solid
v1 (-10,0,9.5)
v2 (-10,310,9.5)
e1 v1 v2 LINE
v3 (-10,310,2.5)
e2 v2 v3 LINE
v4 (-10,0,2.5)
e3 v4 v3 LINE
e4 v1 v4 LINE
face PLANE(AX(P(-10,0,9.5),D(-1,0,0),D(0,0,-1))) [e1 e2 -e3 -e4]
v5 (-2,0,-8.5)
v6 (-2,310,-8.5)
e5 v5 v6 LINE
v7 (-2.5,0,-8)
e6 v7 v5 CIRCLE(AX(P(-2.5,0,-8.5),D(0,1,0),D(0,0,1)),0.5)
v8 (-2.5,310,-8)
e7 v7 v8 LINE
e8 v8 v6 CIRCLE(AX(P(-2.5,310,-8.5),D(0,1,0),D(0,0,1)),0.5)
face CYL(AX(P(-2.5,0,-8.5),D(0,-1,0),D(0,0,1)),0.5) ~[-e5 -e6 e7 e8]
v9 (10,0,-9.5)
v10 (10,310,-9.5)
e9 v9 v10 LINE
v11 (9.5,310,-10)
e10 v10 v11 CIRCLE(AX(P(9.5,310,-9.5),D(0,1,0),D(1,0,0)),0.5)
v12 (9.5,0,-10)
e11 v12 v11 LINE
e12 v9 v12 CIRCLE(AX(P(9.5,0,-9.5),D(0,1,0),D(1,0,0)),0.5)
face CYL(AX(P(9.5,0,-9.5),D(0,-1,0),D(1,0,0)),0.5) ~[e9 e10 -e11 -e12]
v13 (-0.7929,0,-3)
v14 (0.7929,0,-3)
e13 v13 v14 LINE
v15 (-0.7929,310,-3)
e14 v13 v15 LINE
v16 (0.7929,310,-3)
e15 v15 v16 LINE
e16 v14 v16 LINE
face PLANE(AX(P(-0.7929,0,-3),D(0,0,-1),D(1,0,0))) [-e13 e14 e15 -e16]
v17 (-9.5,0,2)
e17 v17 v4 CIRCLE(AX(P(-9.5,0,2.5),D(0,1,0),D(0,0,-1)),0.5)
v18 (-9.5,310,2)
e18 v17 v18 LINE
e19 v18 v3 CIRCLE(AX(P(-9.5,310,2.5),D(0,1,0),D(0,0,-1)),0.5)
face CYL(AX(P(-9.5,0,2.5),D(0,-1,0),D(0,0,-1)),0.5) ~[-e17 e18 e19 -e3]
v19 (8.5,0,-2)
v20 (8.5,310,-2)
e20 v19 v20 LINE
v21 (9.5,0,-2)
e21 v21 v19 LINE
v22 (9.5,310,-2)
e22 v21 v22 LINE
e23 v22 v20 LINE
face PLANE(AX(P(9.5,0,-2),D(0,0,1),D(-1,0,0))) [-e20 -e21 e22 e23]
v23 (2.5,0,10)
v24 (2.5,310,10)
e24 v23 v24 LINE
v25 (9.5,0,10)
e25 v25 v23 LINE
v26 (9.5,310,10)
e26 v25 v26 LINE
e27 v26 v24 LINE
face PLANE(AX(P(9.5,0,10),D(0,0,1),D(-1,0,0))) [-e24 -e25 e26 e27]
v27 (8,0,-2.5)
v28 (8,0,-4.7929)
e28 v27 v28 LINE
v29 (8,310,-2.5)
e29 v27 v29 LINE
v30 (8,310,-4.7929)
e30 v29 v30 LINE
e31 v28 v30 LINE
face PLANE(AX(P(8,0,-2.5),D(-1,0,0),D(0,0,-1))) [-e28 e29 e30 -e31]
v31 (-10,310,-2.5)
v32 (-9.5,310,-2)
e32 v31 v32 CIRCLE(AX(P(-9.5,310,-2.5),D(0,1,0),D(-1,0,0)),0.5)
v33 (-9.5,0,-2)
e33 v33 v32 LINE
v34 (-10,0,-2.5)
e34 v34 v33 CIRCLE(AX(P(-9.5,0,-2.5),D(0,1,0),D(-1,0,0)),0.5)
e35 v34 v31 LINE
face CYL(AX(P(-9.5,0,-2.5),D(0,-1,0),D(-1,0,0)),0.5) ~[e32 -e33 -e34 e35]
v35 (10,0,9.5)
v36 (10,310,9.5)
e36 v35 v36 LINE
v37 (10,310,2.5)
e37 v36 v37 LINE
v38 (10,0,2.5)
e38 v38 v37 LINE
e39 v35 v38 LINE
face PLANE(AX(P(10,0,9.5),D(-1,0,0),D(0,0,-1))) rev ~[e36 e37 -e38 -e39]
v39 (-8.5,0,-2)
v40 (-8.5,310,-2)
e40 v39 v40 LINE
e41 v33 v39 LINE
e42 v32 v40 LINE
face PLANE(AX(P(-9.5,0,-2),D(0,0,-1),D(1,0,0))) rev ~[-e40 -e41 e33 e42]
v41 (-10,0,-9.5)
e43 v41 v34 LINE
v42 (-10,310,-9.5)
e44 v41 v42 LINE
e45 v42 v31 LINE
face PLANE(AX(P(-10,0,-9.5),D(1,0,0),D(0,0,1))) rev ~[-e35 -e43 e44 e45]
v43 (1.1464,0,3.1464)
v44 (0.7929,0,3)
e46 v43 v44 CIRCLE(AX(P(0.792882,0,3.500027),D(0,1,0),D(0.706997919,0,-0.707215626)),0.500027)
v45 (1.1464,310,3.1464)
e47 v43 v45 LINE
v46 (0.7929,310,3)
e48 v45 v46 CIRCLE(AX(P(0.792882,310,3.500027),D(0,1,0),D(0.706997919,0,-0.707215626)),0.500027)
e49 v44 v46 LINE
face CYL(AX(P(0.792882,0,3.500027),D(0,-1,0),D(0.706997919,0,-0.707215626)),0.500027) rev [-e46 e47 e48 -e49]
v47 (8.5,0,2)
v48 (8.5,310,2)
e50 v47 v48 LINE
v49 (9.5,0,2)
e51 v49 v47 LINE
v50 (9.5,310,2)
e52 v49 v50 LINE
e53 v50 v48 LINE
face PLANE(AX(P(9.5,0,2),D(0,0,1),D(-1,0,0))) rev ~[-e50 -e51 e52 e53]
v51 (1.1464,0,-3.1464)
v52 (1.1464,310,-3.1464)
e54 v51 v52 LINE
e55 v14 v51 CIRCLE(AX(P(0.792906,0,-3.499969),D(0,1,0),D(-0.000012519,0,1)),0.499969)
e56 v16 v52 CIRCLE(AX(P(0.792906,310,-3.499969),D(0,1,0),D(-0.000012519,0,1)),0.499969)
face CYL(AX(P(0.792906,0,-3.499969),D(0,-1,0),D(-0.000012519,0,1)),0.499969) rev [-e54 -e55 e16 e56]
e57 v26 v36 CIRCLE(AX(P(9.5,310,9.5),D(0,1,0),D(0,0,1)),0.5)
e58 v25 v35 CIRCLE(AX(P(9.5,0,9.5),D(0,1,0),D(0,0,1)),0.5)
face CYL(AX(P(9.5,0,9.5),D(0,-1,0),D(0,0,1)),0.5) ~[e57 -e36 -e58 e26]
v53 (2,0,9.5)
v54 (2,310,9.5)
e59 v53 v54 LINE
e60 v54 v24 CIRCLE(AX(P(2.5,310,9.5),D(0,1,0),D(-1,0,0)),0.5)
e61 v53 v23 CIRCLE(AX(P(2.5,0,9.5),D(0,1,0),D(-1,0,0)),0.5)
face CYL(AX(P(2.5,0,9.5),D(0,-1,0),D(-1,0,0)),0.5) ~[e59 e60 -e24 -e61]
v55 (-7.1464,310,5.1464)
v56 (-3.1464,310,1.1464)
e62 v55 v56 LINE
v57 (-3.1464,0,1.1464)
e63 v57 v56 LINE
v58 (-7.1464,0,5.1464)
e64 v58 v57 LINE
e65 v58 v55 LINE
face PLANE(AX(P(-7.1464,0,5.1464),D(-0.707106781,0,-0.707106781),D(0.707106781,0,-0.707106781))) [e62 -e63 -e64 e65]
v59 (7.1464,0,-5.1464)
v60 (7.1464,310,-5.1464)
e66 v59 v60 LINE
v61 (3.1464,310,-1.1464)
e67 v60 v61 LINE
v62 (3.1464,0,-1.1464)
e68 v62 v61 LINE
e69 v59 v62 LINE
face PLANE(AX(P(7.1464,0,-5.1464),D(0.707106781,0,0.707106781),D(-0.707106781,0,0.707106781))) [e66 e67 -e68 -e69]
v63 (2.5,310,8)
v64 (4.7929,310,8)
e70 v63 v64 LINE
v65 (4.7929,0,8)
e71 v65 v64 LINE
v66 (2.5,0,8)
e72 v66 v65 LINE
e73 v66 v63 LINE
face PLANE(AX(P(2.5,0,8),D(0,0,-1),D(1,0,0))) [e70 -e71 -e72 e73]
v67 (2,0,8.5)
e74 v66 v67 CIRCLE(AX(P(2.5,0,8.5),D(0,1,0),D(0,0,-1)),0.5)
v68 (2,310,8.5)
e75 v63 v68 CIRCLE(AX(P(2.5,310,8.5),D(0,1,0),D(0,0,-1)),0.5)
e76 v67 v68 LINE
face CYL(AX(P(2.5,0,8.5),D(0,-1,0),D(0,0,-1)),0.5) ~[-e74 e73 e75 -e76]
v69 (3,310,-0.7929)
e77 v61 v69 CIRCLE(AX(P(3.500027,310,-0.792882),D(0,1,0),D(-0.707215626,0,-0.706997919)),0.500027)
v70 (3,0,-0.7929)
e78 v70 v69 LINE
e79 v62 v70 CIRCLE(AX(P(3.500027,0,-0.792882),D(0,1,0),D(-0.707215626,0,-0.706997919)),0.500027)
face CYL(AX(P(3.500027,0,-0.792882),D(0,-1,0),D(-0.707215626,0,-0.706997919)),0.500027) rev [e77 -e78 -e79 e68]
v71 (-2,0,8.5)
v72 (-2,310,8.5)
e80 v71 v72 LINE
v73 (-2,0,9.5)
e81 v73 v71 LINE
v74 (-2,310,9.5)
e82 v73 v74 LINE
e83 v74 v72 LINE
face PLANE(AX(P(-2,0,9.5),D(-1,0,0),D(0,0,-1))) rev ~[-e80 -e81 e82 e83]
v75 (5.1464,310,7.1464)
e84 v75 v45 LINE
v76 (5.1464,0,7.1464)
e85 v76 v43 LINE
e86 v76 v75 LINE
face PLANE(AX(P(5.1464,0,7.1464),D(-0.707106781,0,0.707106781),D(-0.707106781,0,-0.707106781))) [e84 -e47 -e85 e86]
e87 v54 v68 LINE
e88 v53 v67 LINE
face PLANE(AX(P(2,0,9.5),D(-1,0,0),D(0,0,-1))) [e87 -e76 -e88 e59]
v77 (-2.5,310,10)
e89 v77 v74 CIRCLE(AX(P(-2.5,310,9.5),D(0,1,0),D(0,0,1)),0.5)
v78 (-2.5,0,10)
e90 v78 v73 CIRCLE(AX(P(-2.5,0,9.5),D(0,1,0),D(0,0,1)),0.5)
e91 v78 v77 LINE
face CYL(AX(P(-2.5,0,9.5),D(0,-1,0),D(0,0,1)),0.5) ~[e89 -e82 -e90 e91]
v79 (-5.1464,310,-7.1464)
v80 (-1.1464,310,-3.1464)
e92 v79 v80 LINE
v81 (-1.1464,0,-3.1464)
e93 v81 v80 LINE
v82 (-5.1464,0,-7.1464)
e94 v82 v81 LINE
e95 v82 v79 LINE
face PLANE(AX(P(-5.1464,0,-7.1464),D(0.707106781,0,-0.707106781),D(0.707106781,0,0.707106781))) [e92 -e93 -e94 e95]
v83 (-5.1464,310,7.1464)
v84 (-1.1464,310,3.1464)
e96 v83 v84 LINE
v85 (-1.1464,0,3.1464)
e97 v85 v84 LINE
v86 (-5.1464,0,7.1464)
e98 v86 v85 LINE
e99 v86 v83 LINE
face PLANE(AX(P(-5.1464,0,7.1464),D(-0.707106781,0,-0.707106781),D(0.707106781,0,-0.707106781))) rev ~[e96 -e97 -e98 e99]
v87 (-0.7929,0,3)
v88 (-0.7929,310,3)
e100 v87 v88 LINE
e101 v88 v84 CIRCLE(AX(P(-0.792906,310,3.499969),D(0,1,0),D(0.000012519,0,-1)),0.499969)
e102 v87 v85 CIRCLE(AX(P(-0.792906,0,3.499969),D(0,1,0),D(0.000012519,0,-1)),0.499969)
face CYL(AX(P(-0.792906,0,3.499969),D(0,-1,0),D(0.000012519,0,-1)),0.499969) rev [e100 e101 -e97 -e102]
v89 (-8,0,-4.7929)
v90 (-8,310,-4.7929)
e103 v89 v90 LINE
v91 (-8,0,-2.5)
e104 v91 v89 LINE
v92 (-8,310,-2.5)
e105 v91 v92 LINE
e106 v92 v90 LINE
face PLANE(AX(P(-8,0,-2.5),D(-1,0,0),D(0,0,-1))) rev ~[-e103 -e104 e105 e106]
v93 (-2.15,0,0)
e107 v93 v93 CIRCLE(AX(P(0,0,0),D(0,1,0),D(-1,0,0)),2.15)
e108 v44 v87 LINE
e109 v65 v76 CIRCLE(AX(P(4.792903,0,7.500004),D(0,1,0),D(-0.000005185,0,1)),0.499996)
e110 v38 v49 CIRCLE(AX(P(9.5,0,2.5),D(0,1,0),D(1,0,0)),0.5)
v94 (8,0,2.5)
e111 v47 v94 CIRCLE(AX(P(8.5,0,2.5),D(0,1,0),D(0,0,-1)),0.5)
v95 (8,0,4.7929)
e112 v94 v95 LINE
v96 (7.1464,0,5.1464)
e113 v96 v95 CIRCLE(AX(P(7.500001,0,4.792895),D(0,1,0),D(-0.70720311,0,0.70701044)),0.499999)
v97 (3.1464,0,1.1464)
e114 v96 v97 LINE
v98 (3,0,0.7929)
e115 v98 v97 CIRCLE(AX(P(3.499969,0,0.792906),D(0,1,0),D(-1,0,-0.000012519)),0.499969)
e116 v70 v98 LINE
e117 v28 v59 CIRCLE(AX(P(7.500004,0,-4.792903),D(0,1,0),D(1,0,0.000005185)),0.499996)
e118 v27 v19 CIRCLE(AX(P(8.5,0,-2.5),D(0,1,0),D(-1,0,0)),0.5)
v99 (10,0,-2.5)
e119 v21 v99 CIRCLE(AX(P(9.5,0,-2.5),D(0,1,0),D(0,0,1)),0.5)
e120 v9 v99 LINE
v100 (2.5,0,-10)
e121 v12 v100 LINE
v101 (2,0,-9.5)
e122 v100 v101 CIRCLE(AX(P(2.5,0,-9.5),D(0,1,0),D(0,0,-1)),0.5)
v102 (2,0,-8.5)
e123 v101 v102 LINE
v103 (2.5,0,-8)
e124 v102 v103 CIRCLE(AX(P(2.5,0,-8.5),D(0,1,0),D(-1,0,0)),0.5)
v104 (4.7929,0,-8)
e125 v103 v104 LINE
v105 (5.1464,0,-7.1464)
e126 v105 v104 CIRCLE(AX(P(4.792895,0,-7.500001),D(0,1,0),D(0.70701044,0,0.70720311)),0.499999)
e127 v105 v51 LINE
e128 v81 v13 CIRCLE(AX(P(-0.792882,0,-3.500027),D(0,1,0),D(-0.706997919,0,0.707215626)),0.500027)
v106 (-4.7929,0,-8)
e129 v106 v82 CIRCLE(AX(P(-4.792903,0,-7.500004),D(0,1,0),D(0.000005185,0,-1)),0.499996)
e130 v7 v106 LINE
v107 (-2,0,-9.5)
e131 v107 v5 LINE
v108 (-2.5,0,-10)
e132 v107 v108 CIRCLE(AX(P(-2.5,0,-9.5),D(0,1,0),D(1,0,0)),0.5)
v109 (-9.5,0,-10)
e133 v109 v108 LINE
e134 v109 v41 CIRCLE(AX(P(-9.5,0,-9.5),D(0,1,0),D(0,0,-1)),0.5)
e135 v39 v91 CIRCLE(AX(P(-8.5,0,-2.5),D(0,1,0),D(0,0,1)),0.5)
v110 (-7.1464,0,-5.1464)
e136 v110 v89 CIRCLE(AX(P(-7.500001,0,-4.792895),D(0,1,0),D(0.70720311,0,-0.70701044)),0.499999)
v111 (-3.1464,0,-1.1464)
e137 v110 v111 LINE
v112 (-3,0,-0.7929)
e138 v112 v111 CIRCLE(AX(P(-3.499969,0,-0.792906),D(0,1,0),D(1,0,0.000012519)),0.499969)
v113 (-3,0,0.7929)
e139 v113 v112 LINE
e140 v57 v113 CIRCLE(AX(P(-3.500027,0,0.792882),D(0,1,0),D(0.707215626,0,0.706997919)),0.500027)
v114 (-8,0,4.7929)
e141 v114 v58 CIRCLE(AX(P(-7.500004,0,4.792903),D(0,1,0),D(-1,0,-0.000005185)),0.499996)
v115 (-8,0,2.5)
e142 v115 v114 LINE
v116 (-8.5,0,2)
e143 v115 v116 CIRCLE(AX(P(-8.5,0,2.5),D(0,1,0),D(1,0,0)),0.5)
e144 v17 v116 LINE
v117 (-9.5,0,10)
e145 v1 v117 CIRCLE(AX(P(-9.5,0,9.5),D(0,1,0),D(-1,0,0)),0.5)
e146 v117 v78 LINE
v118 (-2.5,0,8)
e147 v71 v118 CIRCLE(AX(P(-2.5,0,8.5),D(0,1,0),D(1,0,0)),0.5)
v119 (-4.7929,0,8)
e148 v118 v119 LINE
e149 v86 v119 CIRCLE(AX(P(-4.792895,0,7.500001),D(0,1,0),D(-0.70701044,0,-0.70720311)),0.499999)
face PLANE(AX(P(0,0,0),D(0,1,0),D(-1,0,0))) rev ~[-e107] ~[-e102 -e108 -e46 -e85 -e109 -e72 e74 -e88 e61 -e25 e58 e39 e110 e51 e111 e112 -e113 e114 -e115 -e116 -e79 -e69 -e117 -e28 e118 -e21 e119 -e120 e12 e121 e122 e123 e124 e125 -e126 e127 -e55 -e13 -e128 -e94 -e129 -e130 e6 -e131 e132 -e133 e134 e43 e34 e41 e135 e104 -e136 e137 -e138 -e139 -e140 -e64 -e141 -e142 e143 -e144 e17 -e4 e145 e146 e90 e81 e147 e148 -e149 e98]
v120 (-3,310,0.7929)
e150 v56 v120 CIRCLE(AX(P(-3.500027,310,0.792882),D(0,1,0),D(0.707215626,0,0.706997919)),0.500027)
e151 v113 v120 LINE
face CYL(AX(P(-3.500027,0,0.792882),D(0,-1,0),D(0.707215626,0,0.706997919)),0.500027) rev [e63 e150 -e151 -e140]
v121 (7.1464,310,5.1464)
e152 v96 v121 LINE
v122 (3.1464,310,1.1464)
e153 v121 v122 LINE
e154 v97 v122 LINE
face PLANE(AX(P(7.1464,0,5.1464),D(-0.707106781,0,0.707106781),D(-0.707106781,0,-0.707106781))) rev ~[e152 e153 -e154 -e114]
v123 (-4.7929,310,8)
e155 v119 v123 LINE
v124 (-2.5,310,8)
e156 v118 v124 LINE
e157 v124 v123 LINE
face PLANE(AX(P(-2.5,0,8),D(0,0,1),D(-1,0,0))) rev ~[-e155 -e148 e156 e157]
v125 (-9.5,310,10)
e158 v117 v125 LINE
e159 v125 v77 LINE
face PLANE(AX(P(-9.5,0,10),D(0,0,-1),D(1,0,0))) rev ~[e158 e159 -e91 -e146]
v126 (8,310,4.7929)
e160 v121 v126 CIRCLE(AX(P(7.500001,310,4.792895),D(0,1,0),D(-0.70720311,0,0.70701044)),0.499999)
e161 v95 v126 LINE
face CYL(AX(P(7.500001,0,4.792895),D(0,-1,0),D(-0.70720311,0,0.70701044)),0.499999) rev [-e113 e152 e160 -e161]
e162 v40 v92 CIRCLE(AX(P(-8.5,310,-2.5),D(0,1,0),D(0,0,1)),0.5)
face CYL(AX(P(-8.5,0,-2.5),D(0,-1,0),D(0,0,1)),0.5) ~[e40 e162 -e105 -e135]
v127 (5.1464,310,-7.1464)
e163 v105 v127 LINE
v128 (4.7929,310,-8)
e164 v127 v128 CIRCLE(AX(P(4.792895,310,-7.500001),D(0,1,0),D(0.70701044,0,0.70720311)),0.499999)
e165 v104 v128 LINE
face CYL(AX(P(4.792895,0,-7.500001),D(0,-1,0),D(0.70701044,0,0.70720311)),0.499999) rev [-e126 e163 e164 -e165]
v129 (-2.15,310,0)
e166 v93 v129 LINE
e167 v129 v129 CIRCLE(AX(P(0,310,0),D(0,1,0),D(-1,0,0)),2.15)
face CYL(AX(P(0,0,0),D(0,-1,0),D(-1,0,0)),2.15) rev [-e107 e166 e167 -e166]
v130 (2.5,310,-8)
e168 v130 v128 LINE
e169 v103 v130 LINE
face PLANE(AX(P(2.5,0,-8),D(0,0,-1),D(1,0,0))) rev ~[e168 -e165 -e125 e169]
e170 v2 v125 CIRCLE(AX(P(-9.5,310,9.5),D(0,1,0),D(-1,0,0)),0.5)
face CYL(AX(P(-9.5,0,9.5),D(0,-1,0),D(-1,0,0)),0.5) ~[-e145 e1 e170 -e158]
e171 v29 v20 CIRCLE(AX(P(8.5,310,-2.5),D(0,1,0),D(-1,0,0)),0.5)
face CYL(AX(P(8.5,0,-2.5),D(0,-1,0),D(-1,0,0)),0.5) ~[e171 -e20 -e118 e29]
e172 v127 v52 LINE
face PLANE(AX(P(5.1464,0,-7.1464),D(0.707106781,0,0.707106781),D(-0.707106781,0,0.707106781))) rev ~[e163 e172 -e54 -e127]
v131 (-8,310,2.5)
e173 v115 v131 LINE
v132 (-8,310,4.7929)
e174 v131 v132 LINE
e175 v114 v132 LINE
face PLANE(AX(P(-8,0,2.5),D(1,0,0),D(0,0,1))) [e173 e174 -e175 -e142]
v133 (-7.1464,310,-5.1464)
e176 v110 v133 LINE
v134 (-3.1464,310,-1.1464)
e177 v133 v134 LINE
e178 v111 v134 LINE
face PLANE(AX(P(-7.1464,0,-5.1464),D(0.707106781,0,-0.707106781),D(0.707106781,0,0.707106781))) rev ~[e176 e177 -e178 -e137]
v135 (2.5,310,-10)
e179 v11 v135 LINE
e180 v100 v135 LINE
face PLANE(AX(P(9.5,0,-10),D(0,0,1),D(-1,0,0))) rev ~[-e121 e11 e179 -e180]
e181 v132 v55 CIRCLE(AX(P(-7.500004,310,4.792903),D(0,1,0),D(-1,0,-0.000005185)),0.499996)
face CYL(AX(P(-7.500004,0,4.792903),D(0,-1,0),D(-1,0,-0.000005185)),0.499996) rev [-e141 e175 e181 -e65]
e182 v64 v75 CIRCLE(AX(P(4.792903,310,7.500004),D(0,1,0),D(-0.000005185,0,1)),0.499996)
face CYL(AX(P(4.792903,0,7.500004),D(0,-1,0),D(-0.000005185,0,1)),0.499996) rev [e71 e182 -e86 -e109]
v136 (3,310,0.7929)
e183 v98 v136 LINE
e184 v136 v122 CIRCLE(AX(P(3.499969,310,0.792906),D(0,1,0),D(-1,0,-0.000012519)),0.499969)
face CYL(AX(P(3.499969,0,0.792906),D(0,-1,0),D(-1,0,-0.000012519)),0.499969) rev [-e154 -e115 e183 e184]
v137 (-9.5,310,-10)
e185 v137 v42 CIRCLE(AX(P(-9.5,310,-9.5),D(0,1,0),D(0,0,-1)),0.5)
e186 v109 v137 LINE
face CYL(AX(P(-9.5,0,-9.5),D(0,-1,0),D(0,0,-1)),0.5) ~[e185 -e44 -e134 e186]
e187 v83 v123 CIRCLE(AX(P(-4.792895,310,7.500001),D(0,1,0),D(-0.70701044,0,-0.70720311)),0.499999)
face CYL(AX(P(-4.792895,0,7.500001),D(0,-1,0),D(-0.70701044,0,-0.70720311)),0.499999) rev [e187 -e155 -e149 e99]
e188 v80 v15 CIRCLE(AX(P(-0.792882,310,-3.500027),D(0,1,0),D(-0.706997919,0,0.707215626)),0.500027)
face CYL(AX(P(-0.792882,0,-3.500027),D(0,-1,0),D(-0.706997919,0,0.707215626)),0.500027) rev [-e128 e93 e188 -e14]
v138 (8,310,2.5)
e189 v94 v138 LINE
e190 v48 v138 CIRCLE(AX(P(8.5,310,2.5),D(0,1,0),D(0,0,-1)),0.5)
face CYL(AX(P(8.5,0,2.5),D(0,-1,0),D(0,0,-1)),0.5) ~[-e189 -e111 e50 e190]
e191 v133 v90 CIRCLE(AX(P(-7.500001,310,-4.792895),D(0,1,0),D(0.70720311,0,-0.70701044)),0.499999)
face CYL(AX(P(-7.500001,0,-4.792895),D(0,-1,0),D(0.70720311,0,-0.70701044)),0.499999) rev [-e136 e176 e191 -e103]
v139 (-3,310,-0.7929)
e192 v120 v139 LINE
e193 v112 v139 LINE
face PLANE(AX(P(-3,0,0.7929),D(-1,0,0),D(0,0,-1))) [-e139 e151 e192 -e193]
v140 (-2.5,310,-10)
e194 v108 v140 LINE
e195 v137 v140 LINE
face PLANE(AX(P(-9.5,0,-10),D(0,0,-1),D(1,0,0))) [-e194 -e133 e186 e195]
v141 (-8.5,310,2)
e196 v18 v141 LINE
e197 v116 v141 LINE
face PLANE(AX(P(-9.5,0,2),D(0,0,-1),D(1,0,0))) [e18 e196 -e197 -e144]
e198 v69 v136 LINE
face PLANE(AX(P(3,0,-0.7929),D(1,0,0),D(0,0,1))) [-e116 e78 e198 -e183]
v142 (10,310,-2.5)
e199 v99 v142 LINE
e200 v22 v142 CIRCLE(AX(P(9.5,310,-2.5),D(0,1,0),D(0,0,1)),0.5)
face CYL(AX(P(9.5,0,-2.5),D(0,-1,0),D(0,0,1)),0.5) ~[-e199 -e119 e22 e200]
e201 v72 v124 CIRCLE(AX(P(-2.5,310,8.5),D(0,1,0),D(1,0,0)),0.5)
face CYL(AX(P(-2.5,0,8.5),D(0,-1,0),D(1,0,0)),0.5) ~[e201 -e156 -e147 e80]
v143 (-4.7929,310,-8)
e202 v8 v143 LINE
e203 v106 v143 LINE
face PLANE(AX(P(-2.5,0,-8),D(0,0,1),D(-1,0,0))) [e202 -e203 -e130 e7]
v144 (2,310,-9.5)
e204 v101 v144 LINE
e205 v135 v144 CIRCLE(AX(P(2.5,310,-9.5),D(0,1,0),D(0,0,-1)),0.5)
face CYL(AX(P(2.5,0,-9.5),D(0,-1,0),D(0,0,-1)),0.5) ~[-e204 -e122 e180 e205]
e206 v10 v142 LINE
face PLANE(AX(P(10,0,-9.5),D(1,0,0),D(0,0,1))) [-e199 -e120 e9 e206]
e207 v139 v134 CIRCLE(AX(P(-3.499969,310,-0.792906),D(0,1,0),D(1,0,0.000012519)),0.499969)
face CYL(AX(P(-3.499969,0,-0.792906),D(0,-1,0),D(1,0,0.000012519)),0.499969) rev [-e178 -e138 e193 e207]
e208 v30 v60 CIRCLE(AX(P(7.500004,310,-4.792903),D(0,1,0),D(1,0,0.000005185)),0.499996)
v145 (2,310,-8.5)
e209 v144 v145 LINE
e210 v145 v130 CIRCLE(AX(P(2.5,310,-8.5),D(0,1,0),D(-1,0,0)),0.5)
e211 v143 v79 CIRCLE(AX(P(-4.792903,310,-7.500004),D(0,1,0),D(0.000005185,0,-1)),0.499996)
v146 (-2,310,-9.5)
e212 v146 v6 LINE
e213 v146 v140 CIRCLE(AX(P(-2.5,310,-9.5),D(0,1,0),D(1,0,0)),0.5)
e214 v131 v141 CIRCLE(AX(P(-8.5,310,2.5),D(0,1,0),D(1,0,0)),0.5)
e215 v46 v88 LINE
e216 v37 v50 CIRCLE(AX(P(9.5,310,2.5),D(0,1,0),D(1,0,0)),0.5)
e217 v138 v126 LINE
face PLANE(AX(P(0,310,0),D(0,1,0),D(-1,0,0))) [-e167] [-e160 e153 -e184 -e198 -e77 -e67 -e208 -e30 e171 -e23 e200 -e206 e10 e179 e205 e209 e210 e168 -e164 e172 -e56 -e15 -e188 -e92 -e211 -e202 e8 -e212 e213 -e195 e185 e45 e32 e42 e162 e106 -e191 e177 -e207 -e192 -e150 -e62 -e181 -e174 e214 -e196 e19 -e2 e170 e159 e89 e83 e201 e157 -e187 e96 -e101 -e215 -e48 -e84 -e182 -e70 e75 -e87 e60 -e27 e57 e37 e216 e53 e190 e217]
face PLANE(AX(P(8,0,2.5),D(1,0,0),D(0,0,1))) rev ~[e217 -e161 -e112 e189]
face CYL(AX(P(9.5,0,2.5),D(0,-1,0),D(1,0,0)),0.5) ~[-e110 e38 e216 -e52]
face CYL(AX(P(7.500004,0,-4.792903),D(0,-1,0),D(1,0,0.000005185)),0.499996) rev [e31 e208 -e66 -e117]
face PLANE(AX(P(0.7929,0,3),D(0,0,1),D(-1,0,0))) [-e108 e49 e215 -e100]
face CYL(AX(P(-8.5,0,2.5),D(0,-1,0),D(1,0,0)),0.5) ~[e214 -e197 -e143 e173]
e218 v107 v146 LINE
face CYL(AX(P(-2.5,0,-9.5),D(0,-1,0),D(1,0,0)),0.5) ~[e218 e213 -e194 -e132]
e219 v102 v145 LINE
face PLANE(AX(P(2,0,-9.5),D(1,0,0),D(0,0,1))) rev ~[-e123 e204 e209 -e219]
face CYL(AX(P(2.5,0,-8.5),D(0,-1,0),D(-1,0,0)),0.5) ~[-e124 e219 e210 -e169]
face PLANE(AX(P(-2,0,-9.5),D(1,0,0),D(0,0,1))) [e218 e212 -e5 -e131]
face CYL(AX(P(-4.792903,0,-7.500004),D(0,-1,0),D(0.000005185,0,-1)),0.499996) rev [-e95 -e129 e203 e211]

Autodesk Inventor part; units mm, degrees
sketch "Sketch1" plane through (0, 0, 0) normal (0, 1, 0) x (-1, 0, 0)
  line L0 (2.5, 10) -> (9.5, 10) construction
  line L1 (10, -2.5) -> (10, -9.5) construction
  line L2 (-2.5, -10) -> (-9.5, -10) construction
  line L3 (-10, 2.5) -> (-10, 10) construction
  line L4 (-10, 10) -> (10, -10) construction
  line L5 (10, 10) -> (-10, -10) construction
  circle A0 centre (0, 0) radius 2.15
  line L6 (10, 9.5) -> (10, 2.5)
  line L7 (9.5, 2) -> (8.5, 2)
  line L8 (8, 2.5) -> (8, 4.7929)
  line L9 (-0.7929, 3) -> (0.7929, 3)
  line L10 (3, 0.7929) -> (3, -0.7929)
  line L11 (0.7929, -3) -> (-0.7929, -3)
  line L12 (-3, -0.7929) -> (-3, 0.7929)
  line L13 (-3, 3) -> (3, -3) construction
  line L14 (3, 3) -> (-3, -3) construction
  line L15 (10, -10) -> (10, -2)
  line L16 (9.5, -2) -> (8.5, -2)
  line L17 (8, -2.5) -> (8, -4.7929)
  line L18 (7.1464, -5.1464) -> (3.1464, -1.1464)
  line L19 (7.1464, 5.1464) -> (3.1464, 1.1464)
  line L20 (8, 6) -> (13.6569, 6) construction
  line L21 (10, 10) -> (2, 10)
  line L22 (2, 9.5) -> (2, 8.5)
  line L23 (2.5, 8) -> (4.7929, 8)
  line L24 (5.1464, 7.1464) -> (1.1464, 3.1464)
  line L25 (-9.5, 10) -> (-2.5, 10)
  line L26 (-2, 9.5) -> (-2, 8.5)
  line L27 (-2.5, 8) -> (-4.7929, 8)
  line L28 (-5.1464, 7.1464) -> (-1.1464, 3.1464)
  line L29 (-10, 9.5) -> (-10, 2)
  line L30 (-9.5, 2) -> (-8.5, 2)
  line L31 (-8, 2.5) -> (-8, 4.7929)
  line L32 (-7.1464, 5.1464) -> (-3.1464, 1.1464)
  line L33 (-10, -9.5) -> (-10, -2.5)
  line L34 (-9.5, -2) -> (-8.5, -2)
  line L35 (-8, -2.5) -> (-8, -4.7929)
  line L36 (-7.1464, -5.1464) -> (-3.1464, -1.1464)
  line L37 (-8, -6) -> (-2.3431, -6) construction
  line L38 (-10, -10) -> (-2, -10)
  line L39 (-2, -9.5) -> (-2, -8.5)
  line L40 (-2.5, -8) -> (-4.7929, -8)
  line L41 (-5.1464, -7.1464) -> (-1.1464, -3.1464)
  line L42 (9.5, -10) -> (2.5, -10)
  line L43 (2, -9.5) -> (2, -8.5)
  line L44 (2.5, -8) -> (4.7929, -8)
  line L45 (5.1464, -7.1464) -> (1.1464, -3.1464)
  arc A1 (8, 2.5) -> (8.5, 2) centre (8.5, 2.5) ccw
  arc A2 (9.5, 2) -> (10, 2.5) centre (9.5, 2.5) ccw
  arc A3 (10, -2.5) -> (9.5, -2) centre (9.5, -2.5) ccw
  arc A4 (8.5, -2) -> (8, -2.5) centre (8.5, -2.5) ccw
  arc A5 (7.1464, -5.1464) -> (8, -4.7929) centre (7.5, -4.7929) ccw
  arc A6 (3, -0.7929) -> (3.1464, -1.1464) centre (3.5, -0.7929) ccw
  arc A7 (3.1464, 1.1464) -> (3, 0.7929) centre (3.5, 0.7929) ccw
  arc A8 (8, 4.7929) -> (7.1464, 5.1464) centre (7.5, 4.7929) ccw
  arc A9 (5.1464, 7.1464) -> (4.7929, 8) centre (4.7929, 7.5) ccw
  arc A10 (0.7929, 3) -> (1.1464, 3.1464) centre (0.7929, 3.5) ccw
  arc A11 (-1.1464, 3.1464) -> (-0.7929, 3) centre (-0.7929, 3.5) ccw
  arc A12 (-3, 0.7929) -> (-3.1464, 1.1464) centre (-3.5, 0.7929) ccw
  arc A13 (-3.1464, -1.1464) -> (-3, -0.7929) centre (-3.5, -0.7929) ccw
  arc A14 (-0.7929, -3) -> (-1.1464, -3.1464) centre (-0.7929, -3.5) ccw
  arc A15 (1.1464, -3.1464) -> (0.7929, -3) centre (0.7929, -3.5) ccw
  arc A16 (-4.7929, 8) -> (-5.1464, 7.1464) centre (-4.7929, 7.5) ccw
  arc A17 (-7.1464, 5.1464) -> (-8, 4.7929) centre (-7.5, 4.7929) ccw
  arc A18 (-8, -4.7929) -> (-7.1464, -5.1464) centre (-7.5, -4.7929) ccw
  arc A19 (-5.1464, -7.1464) -> (-4.7929, -8) centre (-4.7929, -7.5) ccw
  arc A20 (4.7929, -8) -> (5.1464, -7.1464) centre (4.7929, -7.5) ccw
  arc A21 (2, 8.5) -> (2.5, 8) centre (2.5, 8.5) ccw
  arc A22 (2.5, 10) -> (2, 9.5) centre (2.5, 9.5) ccw
  arc A23 (-2, 9.5) -> (-2.5, 10) centre (-2.5, 9.5) ccw
  arc A24 (-2.5, 8) -> (-2, 8.5) centre (-2.5, 8.5) ccw
  arc A25 (-10, 2.5) -> (-9.5, 2) centre (-9.5, 2.5) ccw
  arc A26 (-8.5, 2) -> (-8, 2.5) centre (-8.5, 2.5) ccw
  arc A27 (-8, -2.5) -> (-8.5, -2) centre (-8.5, -2.5) ccw
  arc A28 (-9.5, -2) -> (-10, -2.5) centre (-9.5, -2.5) ccw
  arc A29 (-2.5, -10) -> (-2, -9.5) centre (-2.5, -9.5) ccw
  arc A30 (-2, -8.5) -> (-2.5, -8) centre (-2.5, -8.5) ccw
  arc A31 (2, -9.5) -> (2.5, -10) centre (2.5, -9.5) ccw
  arc A32 (2.5, -8) -> (2, -8.5) centre (2.5, -8.5) ccw
  arc A33 (9.5, -10) -> (10, -9.5) centre (9.5, -9.5) ccw
  arc A34 (10, 9.5) -> (9.5, 10) centre (9.5, 9.5) ccw
  arc A35 (-9.5, 10) -> (-10, 9.5) centre (-9.5, 9.5) ccw
  arc A36 (-10, -9.5) -> (-9.5, -10) centre (-9.5, -9.5) ccw
  point P0 (10, 2)
  point P1 (8, 2)
  point P2 (8, -2)
  point P3 (8, -6)
  point P4 (2, 8)
  point P5 (6, 8)
  point P6 (-2, 10)
  point P7 (-2, 8)
  point P8 (-6, 8)
  point P9 (-8, 2)
  point P10 (-8, 6)
  point P11 (-10, -2)
  point P12 (-8, -2)
  point P13 (-2, -8)
  point P14 (-6, -8)
  point P15 (2, -10)
  point P16 (2, -8)
  point P17 (6, -8)
  point P18 (1, 3)
  point P19 (3, 1)
  point P20 (3, -1)
  point P21 (1, -3)
  point P22 (-1, -3)
  point P23 (-3, -1)
  point P24 (-3, 1)
  point P25 (-1, 3)
  dimension "d0" = 20
  dimension "d1" = 20
  dimension "d2" = 4.3
  dimension "d3" = 8
  dimension "d4" = 2
  dimension "d5" = 4
  dimension "d6" = 6
  dimension "d7" = 6
  dimension "d8" = 8
  dimension "d9" = 2
  dimension "d10" = 4
  dimension "d11" = 45
  dimension "d12" = 135
  dimension "d13" = 8
  dimension "d14" = 2
  dimension "d15" = 4
  dimension "d16" = 45
  dimension "d17" = 8
  dimension "d18" = 2
  dimension "d19" = 4
  dimension "d20" = 45
  dimension "d21" = 8
  dimension "d22" = 2
  dimension "d23" = 4
  dimension "d24" = 45
  dimension "d25" = 8
  dimension "d26" = 2
  dimension "d27" = 4
  dimension "d28" = 45
  dimension "d29" = 8
  dimension "d30" = 2
  dimension "d31" = 4
  dimension "d32" = 45
  dimension "d33" = 8
  dimension "d34" = 2
  dimension "d35" = 4
  dimension "d36" = 45
  dimension "d37" = 2
  dimension "d38" = 2
  dimension "d39" = 2
  dimension "d40" = 2
  dimension "d41" = 0.5
extrude "Extrusion1" add sketch "Sketch1" along normal blind 310
ref_plane "Work Plane3" through (-3, 0, 0) normal (0, 0, 1) x (1, 0, 0)
ref_plane "Work Plane4" through (10, 155, -9.5) normal (0, 1, 0) x (-1, 0, 0)
ref_plane "Work Plane5" through (0, 0, 9.5) normal (1, 0, 0) x (0, 0, -1)
properties part number "Strut"
